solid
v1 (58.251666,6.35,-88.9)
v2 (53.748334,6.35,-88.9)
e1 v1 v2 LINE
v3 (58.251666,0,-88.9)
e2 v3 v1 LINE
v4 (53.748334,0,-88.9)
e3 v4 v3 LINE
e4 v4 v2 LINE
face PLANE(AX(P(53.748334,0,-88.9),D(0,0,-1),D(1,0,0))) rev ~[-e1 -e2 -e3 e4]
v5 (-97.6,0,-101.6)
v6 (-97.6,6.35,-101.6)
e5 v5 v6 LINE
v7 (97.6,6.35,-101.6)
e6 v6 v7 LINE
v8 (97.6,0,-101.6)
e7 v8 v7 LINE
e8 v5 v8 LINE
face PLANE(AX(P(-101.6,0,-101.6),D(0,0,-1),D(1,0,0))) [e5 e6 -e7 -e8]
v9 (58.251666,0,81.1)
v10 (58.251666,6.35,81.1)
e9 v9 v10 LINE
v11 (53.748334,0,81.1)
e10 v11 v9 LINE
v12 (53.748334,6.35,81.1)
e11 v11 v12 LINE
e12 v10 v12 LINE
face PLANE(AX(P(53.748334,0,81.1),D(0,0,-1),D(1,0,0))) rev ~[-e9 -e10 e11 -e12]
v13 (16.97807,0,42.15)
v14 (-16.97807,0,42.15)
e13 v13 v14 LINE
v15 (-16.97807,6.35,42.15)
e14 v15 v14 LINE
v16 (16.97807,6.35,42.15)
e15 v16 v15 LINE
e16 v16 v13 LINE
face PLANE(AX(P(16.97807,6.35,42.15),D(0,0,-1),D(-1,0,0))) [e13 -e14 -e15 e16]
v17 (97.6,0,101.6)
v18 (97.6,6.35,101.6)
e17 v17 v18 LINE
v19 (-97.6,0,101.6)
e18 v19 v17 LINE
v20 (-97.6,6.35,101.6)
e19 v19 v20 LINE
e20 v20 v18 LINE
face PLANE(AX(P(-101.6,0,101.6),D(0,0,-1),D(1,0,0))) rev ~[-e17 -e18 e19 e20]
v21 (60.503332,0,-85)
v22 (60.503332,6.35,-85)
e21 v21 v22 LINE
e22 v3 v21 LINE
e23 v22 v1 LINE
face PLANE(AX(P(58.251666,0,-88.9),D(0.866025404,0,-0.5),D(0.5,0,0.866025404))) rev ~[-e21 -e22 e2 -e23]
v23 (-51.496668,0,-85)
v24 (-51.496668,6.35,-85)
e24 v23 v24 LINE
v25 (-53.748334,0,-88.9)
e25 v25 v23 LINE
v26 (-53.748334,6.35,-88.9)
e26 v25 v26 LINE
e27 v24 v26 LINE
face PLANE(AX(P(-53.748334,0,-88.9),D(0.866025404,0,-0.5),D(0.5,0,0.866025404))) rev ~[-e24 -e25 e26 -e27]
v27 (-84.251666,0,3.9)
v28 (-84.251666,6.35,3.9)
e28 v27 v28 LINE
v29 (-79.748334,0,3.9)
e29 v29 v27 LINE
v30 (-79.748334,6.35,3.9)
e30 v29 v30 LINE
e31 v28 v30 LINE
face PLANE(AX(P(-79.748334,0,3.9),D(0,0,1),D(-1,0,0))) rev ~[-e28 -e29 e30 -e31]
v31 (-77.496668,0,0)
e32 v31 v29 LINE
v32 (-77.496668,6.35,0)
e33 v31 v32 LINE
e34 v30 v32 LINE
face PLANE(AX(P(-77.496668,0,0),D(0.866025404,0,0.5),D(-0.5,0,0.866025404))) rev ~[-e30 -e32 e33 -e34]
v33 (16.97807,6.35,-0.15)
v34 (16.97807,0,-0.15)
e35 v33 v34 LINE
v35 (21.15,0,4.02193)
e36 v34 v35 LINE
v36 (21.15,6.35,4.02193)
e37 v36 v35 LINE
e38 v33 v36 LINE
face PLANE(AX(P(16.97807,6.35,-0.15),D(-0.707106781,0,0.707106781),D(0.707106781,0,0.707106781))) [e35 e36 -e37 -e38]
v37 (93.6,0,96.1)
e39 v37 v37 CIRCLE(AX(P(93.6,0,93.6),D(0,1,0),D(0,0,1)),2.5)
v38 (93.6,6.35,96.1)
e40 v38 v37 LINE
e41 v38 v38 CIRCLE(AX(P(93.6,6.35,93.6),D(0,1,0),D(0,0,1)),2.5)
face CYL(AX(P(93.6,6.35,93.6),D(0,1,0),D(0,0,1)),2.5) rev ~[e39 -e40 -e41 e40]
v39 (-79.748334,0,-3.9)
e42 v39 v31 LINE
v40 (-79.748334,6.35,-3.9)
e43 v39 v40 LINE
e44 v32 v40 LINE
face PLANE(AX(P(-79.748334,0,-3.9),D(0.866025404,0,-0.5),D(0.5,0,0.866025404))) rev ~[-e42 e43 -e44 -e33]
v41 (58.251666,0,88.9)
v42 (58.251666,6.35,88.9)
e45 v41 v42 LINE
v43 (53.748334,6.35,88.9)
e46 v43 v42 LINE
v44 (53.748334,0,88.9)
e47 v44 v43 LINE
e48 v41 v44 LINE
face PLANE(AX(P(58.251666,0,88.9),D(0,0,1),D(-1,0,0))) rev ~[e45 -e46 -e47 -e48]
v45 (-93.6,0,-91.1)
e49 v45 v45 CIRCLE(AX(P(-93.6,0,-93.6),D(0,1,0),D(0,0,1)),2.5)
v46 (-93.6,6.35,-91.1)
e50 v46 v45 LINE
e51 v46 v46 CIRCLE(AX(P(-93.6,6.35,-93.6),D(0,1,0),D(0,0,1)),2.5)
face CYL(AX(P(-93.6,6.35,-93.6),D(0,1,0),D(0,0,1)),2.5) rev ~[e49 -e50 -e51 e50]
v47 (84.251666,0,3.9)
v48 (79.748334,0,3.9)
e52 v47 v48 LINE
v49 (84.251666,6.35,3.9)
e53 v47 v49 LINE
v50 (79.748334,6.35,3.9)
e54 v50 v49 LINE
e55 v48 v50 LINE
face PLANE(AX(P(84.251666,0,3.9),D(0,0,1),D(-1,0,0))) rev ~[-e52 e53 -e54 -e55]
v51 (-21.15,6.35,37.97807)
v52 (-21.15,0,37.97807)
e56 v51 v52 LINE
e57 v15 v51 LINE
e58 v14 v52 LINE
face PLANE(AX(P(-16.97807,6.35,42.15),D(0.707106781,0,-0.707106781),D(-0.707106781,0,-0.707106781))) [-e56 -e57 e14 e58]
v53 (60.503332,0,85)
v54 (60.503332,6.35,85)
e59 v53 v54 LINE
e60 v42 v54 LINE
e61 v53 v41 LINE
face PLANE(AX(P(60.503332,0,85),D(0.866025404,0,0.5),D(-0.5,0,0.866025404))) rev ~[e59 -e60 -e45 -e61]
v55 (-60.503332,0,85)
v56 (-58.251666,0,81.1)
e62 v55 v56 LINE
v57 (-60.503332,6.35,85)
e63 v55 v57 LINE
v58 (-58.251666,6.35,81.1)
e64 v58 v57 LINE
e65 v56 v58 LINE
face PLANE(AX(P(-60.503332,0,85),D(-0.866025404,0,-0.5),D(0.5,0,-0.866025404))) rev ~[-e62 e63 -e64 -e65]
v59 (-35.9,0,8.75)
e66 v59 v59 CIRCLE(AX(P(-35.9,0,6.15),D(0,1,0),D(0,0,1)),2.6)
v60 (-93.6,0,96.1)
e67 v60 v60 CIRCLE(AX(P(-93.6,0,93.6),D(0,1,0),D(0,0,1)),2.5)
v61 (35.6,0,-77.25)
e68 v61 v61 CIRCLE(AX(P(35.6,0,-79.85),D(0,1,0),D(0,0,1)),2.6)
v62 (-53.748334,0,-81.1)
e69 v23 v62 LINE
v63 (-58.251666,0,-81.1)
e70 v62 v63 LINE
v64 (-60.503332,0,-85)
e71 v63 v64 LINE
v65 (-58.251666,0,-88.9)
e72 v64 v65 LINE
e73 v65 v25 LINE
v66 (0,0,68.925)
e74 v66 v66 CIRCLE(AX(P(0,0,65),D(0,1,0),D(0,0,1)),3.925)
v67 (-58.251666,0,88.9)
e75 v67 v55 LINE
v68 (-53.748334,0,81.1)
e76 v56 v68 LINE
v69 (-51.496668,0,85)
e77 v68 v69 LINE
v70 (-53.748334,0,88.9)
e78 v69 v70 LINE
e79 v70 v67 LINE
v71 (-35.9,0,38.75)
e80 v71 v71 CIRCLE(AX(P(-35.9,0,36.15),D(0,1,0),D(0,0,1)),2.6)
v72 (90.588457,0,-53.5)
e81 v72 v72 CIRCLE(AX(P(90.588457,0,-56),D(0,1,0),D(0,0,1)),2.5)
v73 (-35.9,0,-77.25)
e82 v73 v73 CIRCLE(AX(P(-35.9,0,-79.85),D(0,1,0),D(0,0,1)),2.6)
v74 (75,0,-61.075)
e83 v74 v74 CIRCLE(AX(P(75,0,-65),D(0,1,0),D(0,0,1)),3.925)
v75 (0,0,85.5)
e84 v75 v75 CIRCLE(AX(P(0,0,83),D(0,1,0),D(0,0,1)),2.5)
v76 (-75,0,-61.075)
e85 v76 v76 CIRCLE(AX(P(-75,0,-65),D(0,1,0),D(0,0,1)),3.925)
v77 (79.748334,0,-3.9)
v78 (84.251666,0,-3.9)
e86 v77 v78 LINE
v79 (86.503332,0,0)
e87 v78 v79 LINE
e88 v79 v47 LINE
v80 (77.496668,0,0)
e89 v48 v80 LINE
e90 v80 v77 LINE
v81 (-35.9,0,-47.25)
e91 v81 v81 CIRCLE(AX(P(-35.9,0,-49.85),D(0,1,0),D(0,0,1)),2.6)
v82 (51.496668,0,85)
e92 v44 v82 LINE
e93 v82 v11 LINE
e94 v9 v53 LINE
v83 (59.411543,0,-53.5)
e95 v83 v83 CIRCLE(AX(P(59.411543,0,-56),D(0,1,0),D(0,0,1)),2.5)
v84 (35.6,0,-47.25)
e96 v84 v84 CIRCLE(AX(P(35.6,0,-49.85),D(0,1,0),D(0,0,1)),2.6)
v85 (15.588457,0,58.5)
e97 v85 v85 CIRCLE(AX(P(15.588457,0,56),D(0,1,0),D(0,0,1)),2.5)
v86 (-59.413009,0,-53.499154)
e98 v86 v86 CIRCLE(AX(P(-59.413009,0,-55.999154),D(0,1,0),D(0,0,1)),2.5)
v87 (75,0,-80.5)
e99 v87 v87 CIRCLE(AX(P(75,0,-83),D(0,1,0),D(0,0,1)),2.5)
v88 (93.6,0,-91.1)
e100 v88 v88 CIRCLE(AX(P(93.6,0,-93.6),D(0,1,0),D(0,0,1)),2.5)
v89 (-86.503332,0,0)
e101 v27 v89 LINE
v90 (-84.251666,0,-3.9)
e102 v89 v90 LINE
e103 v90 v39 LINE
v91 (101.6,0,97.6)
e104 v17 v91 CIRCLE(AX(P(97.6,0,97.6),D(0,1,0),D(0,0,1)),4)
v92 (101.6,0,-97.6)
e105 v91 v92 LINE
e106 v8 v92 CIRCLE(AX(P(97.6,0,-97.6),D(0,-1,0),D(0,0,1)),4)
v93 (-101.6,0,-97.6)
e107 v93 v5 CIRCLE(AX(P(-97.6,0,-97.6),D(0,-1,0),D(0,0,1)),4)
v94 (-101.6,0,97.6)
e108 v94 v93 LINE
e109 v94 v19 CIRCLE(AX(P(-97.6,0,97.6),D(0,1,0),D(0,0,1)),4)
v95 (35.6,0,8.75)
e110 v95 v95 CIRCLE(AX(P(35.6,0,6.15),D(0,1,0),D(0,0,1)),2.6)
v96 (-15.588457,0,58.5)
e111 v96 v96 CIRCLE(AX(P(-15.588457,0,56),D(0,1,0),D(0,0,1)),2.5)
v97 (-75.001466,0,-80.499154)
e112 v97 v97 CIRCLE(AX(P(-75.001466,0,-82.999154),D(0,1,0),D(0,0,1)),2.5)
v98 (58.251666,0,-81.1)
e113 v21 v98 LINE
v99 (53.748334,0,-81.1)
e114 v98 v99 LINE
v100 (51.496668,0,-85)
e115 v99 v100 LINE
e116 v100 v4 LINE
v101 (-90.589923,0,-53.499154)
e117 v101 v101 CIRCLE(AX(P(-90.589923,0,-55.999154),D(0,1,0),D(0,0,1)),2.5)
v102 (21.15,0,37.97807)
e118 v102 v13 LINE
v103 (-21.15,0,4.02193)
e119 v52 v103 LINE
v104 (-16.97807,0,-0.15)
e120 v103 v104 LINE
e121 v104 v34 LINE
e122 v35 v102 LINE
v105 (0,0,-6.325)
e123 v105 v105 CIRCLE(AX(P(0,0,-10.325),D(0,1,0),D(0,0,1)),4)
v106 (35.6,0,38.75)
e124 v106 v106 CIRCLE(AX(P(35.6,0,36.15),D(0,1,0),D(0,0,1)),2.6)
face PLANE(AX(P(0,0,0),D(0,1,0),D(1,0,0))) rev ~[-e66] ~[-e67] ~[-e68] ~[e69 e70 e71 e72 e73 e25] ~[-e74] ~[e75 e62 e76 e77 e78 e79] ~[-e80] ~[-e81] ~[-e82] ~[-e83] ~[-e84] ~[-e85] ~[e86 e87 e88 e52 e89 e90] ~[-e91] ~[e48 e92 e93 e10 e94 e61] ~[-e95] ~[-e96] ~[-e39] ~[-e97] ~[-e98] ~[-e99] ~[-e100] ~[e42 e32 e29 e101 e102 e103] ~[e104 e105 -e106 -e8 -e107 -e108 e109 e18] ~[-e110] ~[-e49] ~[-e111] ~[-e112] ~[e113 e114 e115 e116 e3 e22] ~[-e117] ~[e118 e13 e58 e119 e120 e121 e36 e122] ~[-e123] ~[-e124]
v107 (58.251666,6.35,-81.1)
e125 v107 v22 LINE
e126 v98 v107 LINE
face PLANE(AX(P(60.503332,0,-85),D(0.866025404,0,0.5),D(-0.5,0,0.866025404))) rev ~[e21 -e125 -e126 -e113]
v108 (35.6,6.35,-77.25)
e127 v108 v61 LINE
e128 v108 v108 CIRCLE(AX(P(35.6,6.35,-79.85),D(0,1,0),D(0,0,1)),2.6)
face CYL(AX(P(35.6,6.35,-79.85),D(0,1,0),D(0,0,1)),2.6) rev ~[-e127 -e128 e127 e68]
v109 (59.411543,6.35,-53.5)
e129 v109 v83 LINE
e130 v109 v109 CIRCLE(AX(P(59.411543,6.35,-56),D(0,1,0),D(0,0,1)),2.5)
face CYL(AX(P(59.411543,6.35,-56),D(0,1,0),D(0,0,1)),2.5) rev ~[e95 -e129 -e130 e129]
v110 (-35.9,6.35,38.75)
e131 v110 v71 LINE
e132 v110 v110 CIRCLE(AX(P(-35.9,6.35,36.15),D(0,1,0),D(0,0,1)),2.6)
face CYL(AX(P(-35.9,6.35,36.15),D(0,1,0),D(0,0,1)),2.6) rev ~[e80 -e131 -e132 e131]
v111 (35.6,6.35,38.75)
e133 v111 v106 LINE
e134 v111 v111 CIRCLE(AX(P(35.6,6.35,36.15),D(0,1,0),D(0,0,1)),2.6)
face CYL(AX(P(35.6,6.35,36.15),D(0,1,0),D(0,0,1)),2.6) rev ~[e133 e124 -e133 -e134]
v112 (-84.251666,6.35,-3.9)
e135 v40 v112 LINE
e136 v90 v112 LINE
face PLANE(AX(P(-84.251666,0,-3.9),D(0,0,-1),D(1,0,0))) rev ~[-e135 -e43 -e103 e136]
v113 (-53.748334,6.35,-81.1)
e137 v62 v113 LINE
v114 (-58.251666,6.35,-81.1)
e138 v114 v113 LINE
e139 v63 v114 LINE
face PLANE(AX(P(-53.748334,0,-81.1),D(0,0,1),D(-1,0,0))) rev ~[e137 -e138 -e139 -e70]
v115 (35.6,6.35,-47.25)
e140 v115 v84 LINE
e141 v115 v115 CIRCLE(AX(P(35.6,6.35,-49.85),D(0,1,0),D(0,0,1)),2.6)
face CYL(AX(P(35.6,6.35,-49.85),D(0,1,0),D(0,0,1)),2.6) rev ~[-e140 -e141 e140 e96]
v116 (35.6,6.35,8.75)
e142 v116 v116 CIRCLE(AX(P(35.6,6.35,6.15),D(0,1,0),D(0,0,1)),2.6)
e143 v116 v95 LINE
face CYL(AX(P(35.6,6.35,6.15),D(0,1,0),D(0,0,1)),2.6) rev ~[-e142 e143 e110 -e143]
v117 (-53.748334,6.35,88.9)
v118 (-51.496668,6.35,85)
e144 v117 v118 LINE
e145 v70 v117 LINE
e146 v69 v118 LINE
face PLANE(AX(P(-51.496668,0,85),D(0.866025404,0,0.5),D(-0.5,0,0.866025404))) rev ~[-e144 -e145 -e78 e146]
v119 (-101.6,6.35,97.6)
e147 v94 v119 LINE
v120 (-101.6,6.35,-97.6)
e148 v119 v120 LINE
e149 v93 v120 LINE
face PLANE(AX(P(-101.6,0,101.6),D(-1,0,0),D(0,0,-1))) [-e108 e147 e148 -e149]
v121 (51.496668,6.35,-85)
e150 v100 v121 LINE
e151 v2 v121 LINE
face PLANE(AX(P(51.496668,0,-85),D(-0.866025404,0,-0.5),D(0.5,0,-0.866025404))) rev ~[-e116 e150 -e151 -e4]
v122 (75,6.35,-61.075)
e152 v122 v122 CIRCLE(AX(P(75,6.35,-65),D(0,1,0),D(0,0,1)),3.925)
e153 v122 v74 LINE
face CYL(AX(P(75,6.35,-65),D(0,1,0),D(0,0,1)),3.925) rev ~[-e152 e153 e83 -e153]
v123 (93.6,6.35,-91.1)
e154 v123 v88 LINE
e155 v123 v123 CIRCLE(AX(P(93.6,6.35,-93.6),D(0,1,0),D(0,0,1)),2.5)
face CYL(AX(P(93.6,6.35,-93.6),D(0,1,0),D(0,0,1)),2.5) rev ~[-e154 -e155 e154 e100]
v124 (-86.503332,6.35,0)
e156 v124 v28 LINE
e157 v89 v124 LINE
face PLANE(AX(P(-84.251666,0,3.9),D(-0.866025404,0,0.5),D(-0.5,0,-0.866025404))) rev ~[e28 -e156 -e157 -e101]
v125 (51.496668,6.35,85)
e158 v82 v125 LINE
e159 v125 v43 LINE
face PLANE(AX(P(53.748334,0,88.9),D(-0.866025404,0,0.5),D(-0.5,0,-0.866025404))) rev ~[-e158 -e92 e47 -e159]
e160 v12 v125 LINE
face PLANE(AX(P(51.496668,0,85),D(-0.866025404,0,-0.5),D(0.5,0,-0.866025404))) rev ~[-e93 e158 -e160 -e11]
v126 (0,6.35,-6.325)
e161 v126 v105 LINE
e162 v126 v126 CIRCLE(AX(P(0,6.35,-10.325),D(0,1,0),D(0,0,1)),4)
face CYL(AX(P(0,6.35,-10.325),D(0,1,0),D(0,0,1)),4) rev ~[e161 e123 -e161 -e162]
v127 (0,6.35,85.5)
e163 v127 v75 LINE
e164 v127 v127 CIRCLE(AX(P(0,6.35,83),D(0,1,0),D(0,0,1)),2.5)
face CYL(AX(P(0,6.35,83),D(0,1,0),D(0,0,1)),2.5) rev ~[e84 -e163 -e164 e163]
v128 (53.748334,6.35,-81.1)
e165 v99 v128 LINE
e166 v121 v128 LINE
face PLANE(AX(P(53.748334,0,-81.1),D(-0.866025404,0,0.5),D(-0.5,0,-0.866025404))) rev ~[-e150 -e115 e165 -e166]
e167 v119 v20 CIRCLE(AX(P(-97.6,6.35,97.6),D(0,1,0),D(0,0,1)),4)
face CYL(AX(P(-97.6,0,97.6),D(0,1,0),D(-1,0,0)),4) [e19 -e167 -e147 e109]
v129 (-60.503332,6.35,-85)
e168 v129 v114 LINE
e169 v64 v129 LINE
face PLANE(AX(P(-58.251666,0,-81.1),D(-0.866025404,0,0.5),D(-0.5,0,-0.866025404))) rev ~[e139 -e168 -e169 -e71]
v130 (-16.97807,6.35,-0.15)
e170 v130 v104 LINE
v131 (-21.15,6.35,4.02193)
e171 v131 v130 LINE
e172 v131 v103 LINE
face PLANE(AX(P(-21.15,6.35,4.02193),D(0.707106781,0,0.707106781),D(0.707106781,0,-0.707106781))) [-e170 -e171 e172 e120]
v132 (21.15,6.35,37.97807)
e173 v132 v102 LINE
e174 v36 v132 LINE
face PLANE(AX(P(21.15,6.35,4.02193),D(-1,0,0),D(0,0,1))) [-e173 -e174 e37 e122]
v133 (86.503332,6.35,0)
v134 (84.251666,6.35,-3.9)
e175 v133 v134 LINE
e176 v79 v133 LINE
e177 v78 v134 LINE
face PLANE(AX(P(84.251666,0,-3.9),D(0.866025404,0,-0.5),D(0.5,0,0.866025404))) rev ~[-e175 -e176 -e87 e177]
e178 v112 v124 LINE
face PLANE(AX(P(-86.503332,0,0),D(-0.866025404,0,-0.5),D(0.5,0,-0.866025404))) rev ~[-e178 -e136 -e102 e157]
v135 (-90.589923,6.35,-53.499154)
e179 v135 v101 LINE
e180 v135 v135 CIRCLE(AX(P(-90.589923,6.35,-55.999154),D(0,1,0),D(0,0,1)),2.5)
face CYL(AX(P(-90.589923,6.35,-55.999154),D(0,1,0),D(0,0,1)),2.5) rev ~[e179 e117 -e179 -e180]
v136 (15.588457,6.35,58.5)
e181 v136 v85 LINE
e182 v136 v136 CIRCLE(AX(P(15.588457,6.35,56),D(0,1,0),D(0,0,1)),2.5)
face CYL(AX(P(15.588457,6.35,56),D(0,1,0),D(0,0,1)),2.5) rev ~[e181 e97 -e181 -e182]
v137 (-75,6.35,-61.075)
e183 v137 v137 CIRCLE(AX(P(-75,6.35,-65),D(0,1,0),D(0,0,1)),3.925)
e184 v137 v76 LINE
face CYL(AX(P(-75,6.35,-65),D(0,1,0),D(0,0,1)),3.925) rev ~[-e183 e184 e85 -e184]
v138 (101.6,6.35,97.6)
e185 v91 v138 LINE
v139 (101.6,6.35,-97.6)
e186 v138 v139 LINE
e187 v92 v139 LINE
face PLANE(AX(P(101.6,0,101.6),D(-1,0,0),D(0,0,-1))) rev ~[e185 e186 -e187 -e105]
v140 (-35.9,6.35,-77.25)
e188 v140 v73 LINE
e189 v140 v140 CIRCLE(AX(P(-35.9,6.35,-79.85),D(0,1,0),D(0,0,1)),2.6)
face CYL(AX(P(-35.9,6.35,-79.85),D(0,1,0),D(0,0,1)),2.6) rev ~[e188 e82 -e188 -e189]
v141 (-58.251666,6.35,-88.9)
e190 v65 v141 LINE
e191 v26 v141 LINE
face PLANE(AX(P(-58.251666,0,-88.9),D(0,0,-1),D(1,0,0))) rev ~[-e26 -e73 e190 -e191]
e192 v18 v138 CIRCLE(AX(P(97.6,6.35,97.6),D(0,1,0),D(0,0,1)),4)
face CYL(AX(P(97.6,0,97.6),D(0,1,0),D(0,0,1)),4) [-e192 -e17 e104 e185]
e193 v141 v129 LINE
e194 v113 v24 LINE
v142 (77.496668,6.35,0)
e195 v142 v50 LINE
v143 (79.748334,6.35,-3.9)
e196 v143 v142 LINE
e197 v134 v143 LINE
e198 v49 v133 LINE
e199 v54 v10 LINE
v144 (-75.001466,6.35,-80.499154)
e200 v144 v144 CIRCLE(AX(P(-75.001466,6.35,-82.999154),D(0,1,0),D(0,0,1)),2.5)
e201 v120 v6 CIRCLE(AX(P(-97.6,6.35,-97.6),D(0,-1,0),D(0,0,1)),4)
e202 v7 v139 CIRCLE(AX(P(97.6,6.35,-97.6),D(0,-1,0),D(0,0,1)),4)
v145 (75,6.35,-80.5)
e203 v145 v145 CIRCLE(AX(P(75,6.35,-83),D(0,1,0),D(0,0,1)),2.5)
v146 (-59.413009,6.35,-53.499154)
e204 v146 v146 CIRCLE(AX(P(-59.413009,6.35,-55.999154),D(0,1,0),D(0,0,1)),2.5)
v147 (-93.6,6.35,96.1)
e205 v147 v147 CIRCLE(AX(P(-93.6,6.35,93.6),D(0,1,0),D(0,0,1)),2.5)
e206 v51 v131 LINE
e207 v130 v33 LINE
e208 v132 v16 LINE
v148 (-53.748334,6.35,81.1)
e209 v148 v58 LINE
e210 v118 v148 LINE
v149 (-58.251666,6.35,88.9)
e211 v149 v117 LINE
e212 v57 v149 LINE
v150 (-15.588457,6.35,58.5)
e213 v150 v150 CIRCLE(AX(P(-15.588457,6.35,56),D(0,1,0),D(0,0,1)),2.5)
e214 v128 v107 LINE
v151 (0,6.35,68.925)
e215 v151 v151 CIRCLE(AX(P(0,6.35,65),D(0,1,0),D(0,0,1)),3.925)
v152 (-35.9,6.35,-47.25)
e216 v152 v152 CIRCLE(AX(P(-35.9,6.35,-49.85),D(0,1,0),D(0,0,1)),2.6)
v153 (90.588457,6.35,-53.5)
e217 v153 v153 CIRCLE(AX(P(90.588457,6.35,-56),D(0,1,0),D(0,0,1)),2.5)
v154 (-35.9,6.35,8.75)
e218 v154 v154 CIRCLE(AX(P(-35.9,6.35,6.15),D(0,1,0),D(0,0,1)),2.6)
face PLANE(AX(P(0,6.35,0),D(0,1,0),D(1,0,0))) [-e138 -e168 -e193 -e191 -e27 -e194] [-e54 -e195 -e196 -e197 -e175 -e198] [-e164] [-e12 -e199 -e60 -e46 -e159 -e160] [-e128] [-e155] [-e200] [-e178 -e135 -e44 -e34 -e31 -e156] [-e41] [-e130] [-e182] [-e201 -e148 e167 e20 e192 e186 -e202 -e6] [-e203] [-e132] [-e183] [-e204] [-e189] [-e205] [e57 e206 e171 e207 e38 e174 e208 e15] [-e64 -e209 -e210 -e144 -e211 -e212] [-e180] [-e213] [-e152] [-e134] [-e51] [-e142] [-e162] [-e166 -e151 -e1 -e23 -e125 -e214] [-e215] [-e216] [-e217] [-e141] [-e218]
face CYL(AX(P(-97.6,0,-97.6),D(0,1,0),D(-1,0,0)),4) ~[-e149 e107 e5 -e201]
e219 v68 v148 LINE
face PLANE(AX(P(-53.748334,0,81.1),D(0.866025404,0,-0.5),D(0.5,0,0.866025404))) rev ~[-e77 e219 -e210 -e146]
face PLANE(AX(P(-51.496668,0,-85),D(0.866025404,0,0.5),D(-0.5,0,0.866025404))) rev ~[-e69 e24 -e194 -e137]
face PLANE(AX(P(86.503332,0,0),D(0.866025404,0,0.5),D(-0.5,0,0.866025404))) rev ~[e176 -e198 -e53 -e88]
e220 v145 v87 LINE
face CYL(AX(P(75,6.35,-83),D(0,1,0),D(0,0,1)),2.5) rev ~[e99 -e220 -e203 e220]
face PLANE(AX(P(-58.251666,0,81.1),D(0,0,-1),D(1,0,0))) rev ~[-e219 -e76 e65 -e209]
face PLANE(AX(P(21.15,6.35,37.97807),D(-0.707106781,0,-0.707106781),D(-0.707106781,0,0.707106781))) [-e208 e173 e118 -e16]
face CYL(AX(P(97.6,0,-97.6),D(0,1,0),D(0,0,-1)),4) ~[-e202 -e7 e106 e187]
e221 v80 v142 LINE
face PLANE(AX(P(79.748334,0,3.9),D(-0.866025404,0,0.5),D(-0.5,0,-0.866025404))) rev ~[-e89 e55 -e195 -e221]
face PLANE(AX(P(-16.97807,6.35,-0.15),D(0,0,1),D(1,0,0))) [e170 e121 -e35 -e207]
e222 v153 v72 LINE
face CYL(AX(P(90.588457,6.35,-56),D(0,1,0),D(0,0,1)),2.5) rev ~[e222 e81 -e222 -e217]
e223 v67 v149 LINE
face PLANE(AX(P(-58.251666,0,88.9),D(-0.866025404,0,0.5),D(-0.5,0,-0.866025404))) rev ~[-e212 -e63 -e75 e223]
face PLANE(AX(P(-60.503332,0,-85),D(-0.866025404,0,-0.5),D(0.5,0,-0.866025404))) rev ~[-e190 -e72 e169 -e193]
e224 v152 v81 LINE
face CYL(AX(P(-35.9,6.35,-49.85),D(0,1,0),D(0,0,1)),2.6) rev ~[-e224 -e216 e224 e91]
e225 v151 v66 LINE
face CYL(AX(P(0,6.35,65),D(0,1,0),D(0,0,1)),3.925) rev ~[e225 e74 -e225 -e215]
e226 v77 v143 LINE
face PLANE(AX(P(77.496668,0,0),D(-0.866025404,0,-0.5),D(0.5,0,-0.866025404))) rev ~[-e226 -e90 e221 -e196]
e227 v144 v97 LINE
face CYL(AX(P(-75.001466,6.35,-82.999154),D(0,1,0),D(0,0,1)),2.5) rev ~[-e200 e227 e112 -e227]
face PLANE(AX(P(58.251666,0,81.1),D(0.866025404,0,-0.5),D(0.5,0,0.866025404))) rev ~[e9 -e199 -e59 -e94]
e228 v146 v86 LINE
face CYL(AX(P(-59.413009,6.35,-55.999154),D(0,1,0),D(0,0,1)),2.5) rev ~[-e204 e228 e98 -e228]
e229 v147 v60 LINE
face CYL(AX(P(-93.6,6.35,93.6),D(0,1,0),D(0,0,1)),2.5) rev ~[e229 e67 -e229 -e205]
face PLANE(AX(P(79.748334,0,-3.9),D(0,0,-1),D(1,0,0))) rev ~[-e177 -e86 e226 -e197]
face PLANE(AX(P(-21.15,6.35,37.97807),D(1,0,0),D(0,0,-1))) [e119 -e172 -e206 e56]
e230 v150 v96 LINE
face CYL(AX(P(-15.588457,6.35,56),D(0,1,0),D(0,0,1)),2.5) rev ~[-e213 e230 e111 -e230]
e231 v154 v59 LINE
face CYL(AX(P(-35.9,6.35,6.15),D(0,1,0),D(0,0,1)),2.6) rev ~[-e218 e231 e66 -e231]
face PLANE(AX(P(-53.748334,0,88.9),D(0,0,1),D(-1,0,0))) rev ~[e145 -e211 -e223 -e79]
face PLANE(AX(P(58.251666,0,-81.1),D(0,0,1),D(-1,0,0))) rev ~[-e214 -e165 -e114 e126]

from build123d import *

# Parameters (mm, degrees)
ESQUISSE1_W                = 203.2
ESQUISSE1_H                = 203.2
BOSS_EXTRU_1_DEPTH         = 6.35
ESQUISSE2_R                = 3.925
ENL_V_MAT_EXTRU_1_DEPTH    = 144.824345992
ESQUISSE5_R                = 2.6
ENL_V_MAT_EXTRU_4_DEPTH    = 144.824345992
ESQUISSE6_R                = 2.5
ENL_V_MAT_EXTRU_5_DEPTH    = 144.824345992
ESQUISSE7_R                = 2.5
ENL_V_MAT_EXTRU_6_DEPTH    = 144.824345992
ESQUISSE8_R                = 4
ENL_V_MAT_EXTRU_7_DEPTH    = 144.824345992
ESQUISSE9_R                = 2.5
ENL_V_MAT_EXTRU_8_DEPTH    = 144.824345992
SYM_TRIE2_COPY_1_SKETCH_R  = 2.5
SYM_TRIE2_COPY_1_DEPTH     = 144.824345992
ENL_V_MAT_EXTRU_9_DEPTH    = 144.824345992
CONG_1_R                   = 4
ENL_V_MAT_EXTRU_10_DEPTH   = 144.824345992
R_P_TITION_LIN_AIRE3_COUNT = 2
R_P_TITION_LIN_AIRE3_PITCH = 86


with BuildPart() as part:
    # Esquisse1 → Boss.-Extru.1 (new body)
    with BuildSketch(Plane(origin=(0, 0, 0), x_dir=(1, 0, 0), z_dir=(0, 1, 0))):
        Rectangle(ESQUISSE1_W, ESQUISSE1_H)
    extrude(amount=BOSS_EXTRU_1_DEPTH)

    # Esquisse2 → Enlèv. mat.-Extru.1 (cut, through all)
    with BuildSketch(Plane(origin=(0, 6.35, 0), x_dir=(1, 0, 0), z_dir=(0, 1, 0))):
        with Locations(Location((-75, 65, 0), (0, 0, 270))):
            Circle(ESQUISSE2_R)
        with Locations(Location((75, 65, 0), (0, 0, 270))):
            Circle(ESQUISSE2_R)
        with Locations(Location((0, -65, 0), (0, 0, 270))):
            Circle(ESQUISSE2_R)
    extrude(amount=-ENL_V_MAT_EXTRU_1_DEPTH, mode=Mode.SUBTRACT)

    # Esquisse5 → Enlèv. mat.-Extru.4 (cut, through all)
    with BuildSketch(Plane(origin=(0, 6.35, 0), x_dir=(1, 0, 0), z_dir=(0, 1, 0))):
        with Locations(Location((-35.9, 49.85, 0), (0, 0, 270))):
            Circle(ESQUISSE5_R)
        with Locations(Location((-35.9, 79.85, 0), (0, 0, 270))):
            Circle(ESQUISSE5_R)
        with Locations(Location((35.6, 49.85, 0), (0, 0, 270))):
            Circle(ESQUISSE5_R)
        with Locations(Location((35.6, 79.85, 0), (0, 0, 270))):
            Circle(ESQUISSE5_R)
    enl_v_mat_extru_4 = extrude(amount=-ENL_V_MAT_EXTRU_4_DEPTH, mode=Mode.SUBTRACT)

    # Esquisse6 → Enlèv. mat.-Extru.5 (cut, through all)
    with BuildSketch(Plane(origin=(0, 6.35, 0), x_dir=(1, 0, 0), z_dir=(0, 1, 0))):
        with Locations(Location((93.6, -93.6, 0), (0, 0, 270))):
            Circle(ESQUISSE6_R)
        with Locations(Location((-93.6, -93.6, 0), (0, 0, 270))):
            Circle(ESQUISSE6_R)
        with Locations(Location((-93.6, 93.6, 0), (0, 0, 270))):
            Circle(ESQUISSE6_R)
        with Locations(Location((93.6, 93.6, 0), (0, 0, 270))):
            Circle(ESQUISSE6_R)
    extrude(amount=-ENL_V_MAT_EXTRU_5_DEPTH, mode=Mode.SUBTRACT)

    # Esquisse7 → Enlèv. mat.-Extru.6 (cut, through all)
    with BuildSketch(Plane(origin=(0, 6.35, 0), x_dir=(1, 0, 0), z_dir=(0, 1, 0))):
        with Locations(Location((15.588457268, -56, 0), (0, 0, 270))):
            Circle(ESQUISSE7_R)
        with Locations(Location((-15.588457268, -56, 0), (0, 0, 270))):
            Circle(ESQUISSE7_R)
        with Locations(Location((0, -83, 0), (0, 0, 270))):
            Circle(ESQUISSE7_R)
        with Locations(Location((90.588457268, 56, 0), (0, 0, 270))):
            Circle(ESQUISSE7_R)
        with Locations(Location((59.411542732, 56, 0), (0, 0, 270))):
            Circle(ESQUISSE7_R)
        with Locations(Location((75, 83, 0), (0, 0, 270))):
            Circle(ESQUISSE7_R)
        with Locations(Location((-90.589923123, 55.999154304, 0), (0, 0, 270))):
            Circle(ESQUISSE7_R)
        with Locations(Location((-59.413008586, 55.999154304, 0), (0, 0, 270))):
            Circle(ESQUISSE7_R)
        with Locations(Location((-75.001465855, 82.999154304, 0), (0, 0, 270))):
            Circle(ESQUISSE7_R)
    extrude(amount=-ENL_V_MAT_EXTRU_6_DEPTH, mode=Mode.SUBTRACT)

    # Esquisse8 → Enlèv. mat.-Extru.7 (cut, through all)
    with BuildSketch(Plane(origin=(0, 6.35, 0), x_dir=(1, 0, 0), z_dir=(0, 1, 0))):
        with Locations(Location((0, 10.325, 0), (0, 0, 270))):
            Circle(ESQUISSE8_R)
    extrude(amount=-ENL_V_MAT_EXTRU_7_DEPTH, mode=Mode.SUBTRACT)

    # Esquisse9 → Enlèv. mat.-Extru.8 (cut, through all)
    with BuildSketch(Plane.XZ):
        with Locations(Location((56, -85, 0), (0, 0, 270))):
            Circle(ESQUISSE9_R)
        with Locations(Location((82, 0, 0), (0, 0, 270))):
            Circle(ESQUISSE9_R)
    enl_v_mat_extru_8 = extrude(amount=-ENL_V_MAT_EXTRU_8_DEPTH, mode=Mode.SUBTRACT)

    # Symétrie1: Enlèv. mat.-Extru.8 across plane
    add(enl_v_mat_extru_8.mirror(Plane.XY), mode=Mode.SUBTRACT)

    # Symétrie2: Enlèv. mat.-Extru.8 across plane
    add(enl_v_mat_extru_8.mirror(Plane(origin=(0, 0, 0), x_dir=(0, 0, 1), z_dir=(1, 0, 0))), mode=Mode.SUBTRACT)

    # Symétrie2 copy 1 sketch → Symétrie2 copy 1 (cut, through all)
    with BuildSketch(Plane(origin=(0, 0, 0), x_dir=(-1, 0, 0), z_dir=(0, -1, 0))):
        with Locations(Location((56, -85, 0), (0, 0, 270))):
            Circle(SYM_TRIE2_COPY_1_SKETCH_R)
        with Locations(Location((82, 0, 0), (0, 0, 270))):
            Circle(SYM_TRIE2_COPY_1_SKETCH_R)
    extrude(amount=-SYM_TRIE2_COPY_1_DEPTH, mode=Mode.SUBTRACT)

    # Esquisse11 → Enlèv. mat.-Extru.9 (cut, through all)
    with BuildSketch(Plane.XZ):
        Polygon((-60.5033321, -85), (-58.25166605, -88.9), (-53.74833395, -88.9), (-51.4966679, -85), (-53.74833395, -81.1), (-58.25166605, -81.1), align=None)
        Polygon((-86.5033321, 0), (-84.25166605, -3.9), (-79.74833395, -3.9), (-77.4966679, 0), (-79.74833395, 3.9), (-84.25166605, 3.9), align=None)
        Polygon((-60.5033321, 85), (-58.25166605, 81.1), (-53.74833395, 81.1), (-51.4966679, 85), (-53.74833395, 88.9), (-58.25166605, 88.9), align=None)
        Polygon((51.4966679, 85), (53.74833395, 81.1), (58.25166605, 81.1), (60.5033321, 85), (58.25166605, 88.9), (53.74833395, 88.9), align=None)
        Polygon((77.4966679, 0), (79.74833395, -3.9), (84.25166605, -3.9), (86.5033321, 0), (84.25166605, 3.9), (79.74833395, 3.9), align=None)
        Polygon((60.5033321, -85), (58.25166605, -81.1), (53.74833395, -81.1), (51.4966679, -85), (53.74833395, -88.9), (58.25166605, -88.9), align=None)
    extrude(amount=-ENL_V_MAT_EXTRU_9_DEPTH, mode=Mode.SUBTRACT)

    # Congé1
    cong_1_edges = [part.edges().sort_by_distance(p)[0] for p in [
        (101.6, 3.175, 101.6),
        (-101.6, 3.175, 101.6),
        (-101.6, 3.175, -101.6),
        (101.6, 3.175, -101.6),
    ]]
    fillet(cong_1_edges, radius=CONG_1_R)

    # Esquisse13 → Enlèv. mat.-Extru.10 (cut, through all)
    with BuildSketch(Plane(origin=(0, 6.35, 0), x_dir=(1, 0, 0), z_dir=(0, 1, 0))):
        Polygon((-16.978069991, 0.149999997), (16.978069991, 0.149999997), (21.15, -4.021930012), (21.15, -37.978069994), (16.978069991, -42.150000003), (-16.978069991, -42.150000003), (-21.15, -37.978069994), (-21.15, -4.021930012), align=None)
    extrude(amount=-ENL_V_MAT_EXTRU_10_DEPTH, mode=Mode.SUBTRACT)

    # Répétition linéaire3: Enlèv. mat.-Extru.4 ×2
    with Locations(*[(0, 0, i * R_P_TITION_LIN_AIRE3_PITCH) for i in range(1, R_P_TITION_LIN_AIRE3_COUNT)]):
        add(enl_v_mat_extru_4, mode=Mode.SUBTRACT)


solid = part.part
